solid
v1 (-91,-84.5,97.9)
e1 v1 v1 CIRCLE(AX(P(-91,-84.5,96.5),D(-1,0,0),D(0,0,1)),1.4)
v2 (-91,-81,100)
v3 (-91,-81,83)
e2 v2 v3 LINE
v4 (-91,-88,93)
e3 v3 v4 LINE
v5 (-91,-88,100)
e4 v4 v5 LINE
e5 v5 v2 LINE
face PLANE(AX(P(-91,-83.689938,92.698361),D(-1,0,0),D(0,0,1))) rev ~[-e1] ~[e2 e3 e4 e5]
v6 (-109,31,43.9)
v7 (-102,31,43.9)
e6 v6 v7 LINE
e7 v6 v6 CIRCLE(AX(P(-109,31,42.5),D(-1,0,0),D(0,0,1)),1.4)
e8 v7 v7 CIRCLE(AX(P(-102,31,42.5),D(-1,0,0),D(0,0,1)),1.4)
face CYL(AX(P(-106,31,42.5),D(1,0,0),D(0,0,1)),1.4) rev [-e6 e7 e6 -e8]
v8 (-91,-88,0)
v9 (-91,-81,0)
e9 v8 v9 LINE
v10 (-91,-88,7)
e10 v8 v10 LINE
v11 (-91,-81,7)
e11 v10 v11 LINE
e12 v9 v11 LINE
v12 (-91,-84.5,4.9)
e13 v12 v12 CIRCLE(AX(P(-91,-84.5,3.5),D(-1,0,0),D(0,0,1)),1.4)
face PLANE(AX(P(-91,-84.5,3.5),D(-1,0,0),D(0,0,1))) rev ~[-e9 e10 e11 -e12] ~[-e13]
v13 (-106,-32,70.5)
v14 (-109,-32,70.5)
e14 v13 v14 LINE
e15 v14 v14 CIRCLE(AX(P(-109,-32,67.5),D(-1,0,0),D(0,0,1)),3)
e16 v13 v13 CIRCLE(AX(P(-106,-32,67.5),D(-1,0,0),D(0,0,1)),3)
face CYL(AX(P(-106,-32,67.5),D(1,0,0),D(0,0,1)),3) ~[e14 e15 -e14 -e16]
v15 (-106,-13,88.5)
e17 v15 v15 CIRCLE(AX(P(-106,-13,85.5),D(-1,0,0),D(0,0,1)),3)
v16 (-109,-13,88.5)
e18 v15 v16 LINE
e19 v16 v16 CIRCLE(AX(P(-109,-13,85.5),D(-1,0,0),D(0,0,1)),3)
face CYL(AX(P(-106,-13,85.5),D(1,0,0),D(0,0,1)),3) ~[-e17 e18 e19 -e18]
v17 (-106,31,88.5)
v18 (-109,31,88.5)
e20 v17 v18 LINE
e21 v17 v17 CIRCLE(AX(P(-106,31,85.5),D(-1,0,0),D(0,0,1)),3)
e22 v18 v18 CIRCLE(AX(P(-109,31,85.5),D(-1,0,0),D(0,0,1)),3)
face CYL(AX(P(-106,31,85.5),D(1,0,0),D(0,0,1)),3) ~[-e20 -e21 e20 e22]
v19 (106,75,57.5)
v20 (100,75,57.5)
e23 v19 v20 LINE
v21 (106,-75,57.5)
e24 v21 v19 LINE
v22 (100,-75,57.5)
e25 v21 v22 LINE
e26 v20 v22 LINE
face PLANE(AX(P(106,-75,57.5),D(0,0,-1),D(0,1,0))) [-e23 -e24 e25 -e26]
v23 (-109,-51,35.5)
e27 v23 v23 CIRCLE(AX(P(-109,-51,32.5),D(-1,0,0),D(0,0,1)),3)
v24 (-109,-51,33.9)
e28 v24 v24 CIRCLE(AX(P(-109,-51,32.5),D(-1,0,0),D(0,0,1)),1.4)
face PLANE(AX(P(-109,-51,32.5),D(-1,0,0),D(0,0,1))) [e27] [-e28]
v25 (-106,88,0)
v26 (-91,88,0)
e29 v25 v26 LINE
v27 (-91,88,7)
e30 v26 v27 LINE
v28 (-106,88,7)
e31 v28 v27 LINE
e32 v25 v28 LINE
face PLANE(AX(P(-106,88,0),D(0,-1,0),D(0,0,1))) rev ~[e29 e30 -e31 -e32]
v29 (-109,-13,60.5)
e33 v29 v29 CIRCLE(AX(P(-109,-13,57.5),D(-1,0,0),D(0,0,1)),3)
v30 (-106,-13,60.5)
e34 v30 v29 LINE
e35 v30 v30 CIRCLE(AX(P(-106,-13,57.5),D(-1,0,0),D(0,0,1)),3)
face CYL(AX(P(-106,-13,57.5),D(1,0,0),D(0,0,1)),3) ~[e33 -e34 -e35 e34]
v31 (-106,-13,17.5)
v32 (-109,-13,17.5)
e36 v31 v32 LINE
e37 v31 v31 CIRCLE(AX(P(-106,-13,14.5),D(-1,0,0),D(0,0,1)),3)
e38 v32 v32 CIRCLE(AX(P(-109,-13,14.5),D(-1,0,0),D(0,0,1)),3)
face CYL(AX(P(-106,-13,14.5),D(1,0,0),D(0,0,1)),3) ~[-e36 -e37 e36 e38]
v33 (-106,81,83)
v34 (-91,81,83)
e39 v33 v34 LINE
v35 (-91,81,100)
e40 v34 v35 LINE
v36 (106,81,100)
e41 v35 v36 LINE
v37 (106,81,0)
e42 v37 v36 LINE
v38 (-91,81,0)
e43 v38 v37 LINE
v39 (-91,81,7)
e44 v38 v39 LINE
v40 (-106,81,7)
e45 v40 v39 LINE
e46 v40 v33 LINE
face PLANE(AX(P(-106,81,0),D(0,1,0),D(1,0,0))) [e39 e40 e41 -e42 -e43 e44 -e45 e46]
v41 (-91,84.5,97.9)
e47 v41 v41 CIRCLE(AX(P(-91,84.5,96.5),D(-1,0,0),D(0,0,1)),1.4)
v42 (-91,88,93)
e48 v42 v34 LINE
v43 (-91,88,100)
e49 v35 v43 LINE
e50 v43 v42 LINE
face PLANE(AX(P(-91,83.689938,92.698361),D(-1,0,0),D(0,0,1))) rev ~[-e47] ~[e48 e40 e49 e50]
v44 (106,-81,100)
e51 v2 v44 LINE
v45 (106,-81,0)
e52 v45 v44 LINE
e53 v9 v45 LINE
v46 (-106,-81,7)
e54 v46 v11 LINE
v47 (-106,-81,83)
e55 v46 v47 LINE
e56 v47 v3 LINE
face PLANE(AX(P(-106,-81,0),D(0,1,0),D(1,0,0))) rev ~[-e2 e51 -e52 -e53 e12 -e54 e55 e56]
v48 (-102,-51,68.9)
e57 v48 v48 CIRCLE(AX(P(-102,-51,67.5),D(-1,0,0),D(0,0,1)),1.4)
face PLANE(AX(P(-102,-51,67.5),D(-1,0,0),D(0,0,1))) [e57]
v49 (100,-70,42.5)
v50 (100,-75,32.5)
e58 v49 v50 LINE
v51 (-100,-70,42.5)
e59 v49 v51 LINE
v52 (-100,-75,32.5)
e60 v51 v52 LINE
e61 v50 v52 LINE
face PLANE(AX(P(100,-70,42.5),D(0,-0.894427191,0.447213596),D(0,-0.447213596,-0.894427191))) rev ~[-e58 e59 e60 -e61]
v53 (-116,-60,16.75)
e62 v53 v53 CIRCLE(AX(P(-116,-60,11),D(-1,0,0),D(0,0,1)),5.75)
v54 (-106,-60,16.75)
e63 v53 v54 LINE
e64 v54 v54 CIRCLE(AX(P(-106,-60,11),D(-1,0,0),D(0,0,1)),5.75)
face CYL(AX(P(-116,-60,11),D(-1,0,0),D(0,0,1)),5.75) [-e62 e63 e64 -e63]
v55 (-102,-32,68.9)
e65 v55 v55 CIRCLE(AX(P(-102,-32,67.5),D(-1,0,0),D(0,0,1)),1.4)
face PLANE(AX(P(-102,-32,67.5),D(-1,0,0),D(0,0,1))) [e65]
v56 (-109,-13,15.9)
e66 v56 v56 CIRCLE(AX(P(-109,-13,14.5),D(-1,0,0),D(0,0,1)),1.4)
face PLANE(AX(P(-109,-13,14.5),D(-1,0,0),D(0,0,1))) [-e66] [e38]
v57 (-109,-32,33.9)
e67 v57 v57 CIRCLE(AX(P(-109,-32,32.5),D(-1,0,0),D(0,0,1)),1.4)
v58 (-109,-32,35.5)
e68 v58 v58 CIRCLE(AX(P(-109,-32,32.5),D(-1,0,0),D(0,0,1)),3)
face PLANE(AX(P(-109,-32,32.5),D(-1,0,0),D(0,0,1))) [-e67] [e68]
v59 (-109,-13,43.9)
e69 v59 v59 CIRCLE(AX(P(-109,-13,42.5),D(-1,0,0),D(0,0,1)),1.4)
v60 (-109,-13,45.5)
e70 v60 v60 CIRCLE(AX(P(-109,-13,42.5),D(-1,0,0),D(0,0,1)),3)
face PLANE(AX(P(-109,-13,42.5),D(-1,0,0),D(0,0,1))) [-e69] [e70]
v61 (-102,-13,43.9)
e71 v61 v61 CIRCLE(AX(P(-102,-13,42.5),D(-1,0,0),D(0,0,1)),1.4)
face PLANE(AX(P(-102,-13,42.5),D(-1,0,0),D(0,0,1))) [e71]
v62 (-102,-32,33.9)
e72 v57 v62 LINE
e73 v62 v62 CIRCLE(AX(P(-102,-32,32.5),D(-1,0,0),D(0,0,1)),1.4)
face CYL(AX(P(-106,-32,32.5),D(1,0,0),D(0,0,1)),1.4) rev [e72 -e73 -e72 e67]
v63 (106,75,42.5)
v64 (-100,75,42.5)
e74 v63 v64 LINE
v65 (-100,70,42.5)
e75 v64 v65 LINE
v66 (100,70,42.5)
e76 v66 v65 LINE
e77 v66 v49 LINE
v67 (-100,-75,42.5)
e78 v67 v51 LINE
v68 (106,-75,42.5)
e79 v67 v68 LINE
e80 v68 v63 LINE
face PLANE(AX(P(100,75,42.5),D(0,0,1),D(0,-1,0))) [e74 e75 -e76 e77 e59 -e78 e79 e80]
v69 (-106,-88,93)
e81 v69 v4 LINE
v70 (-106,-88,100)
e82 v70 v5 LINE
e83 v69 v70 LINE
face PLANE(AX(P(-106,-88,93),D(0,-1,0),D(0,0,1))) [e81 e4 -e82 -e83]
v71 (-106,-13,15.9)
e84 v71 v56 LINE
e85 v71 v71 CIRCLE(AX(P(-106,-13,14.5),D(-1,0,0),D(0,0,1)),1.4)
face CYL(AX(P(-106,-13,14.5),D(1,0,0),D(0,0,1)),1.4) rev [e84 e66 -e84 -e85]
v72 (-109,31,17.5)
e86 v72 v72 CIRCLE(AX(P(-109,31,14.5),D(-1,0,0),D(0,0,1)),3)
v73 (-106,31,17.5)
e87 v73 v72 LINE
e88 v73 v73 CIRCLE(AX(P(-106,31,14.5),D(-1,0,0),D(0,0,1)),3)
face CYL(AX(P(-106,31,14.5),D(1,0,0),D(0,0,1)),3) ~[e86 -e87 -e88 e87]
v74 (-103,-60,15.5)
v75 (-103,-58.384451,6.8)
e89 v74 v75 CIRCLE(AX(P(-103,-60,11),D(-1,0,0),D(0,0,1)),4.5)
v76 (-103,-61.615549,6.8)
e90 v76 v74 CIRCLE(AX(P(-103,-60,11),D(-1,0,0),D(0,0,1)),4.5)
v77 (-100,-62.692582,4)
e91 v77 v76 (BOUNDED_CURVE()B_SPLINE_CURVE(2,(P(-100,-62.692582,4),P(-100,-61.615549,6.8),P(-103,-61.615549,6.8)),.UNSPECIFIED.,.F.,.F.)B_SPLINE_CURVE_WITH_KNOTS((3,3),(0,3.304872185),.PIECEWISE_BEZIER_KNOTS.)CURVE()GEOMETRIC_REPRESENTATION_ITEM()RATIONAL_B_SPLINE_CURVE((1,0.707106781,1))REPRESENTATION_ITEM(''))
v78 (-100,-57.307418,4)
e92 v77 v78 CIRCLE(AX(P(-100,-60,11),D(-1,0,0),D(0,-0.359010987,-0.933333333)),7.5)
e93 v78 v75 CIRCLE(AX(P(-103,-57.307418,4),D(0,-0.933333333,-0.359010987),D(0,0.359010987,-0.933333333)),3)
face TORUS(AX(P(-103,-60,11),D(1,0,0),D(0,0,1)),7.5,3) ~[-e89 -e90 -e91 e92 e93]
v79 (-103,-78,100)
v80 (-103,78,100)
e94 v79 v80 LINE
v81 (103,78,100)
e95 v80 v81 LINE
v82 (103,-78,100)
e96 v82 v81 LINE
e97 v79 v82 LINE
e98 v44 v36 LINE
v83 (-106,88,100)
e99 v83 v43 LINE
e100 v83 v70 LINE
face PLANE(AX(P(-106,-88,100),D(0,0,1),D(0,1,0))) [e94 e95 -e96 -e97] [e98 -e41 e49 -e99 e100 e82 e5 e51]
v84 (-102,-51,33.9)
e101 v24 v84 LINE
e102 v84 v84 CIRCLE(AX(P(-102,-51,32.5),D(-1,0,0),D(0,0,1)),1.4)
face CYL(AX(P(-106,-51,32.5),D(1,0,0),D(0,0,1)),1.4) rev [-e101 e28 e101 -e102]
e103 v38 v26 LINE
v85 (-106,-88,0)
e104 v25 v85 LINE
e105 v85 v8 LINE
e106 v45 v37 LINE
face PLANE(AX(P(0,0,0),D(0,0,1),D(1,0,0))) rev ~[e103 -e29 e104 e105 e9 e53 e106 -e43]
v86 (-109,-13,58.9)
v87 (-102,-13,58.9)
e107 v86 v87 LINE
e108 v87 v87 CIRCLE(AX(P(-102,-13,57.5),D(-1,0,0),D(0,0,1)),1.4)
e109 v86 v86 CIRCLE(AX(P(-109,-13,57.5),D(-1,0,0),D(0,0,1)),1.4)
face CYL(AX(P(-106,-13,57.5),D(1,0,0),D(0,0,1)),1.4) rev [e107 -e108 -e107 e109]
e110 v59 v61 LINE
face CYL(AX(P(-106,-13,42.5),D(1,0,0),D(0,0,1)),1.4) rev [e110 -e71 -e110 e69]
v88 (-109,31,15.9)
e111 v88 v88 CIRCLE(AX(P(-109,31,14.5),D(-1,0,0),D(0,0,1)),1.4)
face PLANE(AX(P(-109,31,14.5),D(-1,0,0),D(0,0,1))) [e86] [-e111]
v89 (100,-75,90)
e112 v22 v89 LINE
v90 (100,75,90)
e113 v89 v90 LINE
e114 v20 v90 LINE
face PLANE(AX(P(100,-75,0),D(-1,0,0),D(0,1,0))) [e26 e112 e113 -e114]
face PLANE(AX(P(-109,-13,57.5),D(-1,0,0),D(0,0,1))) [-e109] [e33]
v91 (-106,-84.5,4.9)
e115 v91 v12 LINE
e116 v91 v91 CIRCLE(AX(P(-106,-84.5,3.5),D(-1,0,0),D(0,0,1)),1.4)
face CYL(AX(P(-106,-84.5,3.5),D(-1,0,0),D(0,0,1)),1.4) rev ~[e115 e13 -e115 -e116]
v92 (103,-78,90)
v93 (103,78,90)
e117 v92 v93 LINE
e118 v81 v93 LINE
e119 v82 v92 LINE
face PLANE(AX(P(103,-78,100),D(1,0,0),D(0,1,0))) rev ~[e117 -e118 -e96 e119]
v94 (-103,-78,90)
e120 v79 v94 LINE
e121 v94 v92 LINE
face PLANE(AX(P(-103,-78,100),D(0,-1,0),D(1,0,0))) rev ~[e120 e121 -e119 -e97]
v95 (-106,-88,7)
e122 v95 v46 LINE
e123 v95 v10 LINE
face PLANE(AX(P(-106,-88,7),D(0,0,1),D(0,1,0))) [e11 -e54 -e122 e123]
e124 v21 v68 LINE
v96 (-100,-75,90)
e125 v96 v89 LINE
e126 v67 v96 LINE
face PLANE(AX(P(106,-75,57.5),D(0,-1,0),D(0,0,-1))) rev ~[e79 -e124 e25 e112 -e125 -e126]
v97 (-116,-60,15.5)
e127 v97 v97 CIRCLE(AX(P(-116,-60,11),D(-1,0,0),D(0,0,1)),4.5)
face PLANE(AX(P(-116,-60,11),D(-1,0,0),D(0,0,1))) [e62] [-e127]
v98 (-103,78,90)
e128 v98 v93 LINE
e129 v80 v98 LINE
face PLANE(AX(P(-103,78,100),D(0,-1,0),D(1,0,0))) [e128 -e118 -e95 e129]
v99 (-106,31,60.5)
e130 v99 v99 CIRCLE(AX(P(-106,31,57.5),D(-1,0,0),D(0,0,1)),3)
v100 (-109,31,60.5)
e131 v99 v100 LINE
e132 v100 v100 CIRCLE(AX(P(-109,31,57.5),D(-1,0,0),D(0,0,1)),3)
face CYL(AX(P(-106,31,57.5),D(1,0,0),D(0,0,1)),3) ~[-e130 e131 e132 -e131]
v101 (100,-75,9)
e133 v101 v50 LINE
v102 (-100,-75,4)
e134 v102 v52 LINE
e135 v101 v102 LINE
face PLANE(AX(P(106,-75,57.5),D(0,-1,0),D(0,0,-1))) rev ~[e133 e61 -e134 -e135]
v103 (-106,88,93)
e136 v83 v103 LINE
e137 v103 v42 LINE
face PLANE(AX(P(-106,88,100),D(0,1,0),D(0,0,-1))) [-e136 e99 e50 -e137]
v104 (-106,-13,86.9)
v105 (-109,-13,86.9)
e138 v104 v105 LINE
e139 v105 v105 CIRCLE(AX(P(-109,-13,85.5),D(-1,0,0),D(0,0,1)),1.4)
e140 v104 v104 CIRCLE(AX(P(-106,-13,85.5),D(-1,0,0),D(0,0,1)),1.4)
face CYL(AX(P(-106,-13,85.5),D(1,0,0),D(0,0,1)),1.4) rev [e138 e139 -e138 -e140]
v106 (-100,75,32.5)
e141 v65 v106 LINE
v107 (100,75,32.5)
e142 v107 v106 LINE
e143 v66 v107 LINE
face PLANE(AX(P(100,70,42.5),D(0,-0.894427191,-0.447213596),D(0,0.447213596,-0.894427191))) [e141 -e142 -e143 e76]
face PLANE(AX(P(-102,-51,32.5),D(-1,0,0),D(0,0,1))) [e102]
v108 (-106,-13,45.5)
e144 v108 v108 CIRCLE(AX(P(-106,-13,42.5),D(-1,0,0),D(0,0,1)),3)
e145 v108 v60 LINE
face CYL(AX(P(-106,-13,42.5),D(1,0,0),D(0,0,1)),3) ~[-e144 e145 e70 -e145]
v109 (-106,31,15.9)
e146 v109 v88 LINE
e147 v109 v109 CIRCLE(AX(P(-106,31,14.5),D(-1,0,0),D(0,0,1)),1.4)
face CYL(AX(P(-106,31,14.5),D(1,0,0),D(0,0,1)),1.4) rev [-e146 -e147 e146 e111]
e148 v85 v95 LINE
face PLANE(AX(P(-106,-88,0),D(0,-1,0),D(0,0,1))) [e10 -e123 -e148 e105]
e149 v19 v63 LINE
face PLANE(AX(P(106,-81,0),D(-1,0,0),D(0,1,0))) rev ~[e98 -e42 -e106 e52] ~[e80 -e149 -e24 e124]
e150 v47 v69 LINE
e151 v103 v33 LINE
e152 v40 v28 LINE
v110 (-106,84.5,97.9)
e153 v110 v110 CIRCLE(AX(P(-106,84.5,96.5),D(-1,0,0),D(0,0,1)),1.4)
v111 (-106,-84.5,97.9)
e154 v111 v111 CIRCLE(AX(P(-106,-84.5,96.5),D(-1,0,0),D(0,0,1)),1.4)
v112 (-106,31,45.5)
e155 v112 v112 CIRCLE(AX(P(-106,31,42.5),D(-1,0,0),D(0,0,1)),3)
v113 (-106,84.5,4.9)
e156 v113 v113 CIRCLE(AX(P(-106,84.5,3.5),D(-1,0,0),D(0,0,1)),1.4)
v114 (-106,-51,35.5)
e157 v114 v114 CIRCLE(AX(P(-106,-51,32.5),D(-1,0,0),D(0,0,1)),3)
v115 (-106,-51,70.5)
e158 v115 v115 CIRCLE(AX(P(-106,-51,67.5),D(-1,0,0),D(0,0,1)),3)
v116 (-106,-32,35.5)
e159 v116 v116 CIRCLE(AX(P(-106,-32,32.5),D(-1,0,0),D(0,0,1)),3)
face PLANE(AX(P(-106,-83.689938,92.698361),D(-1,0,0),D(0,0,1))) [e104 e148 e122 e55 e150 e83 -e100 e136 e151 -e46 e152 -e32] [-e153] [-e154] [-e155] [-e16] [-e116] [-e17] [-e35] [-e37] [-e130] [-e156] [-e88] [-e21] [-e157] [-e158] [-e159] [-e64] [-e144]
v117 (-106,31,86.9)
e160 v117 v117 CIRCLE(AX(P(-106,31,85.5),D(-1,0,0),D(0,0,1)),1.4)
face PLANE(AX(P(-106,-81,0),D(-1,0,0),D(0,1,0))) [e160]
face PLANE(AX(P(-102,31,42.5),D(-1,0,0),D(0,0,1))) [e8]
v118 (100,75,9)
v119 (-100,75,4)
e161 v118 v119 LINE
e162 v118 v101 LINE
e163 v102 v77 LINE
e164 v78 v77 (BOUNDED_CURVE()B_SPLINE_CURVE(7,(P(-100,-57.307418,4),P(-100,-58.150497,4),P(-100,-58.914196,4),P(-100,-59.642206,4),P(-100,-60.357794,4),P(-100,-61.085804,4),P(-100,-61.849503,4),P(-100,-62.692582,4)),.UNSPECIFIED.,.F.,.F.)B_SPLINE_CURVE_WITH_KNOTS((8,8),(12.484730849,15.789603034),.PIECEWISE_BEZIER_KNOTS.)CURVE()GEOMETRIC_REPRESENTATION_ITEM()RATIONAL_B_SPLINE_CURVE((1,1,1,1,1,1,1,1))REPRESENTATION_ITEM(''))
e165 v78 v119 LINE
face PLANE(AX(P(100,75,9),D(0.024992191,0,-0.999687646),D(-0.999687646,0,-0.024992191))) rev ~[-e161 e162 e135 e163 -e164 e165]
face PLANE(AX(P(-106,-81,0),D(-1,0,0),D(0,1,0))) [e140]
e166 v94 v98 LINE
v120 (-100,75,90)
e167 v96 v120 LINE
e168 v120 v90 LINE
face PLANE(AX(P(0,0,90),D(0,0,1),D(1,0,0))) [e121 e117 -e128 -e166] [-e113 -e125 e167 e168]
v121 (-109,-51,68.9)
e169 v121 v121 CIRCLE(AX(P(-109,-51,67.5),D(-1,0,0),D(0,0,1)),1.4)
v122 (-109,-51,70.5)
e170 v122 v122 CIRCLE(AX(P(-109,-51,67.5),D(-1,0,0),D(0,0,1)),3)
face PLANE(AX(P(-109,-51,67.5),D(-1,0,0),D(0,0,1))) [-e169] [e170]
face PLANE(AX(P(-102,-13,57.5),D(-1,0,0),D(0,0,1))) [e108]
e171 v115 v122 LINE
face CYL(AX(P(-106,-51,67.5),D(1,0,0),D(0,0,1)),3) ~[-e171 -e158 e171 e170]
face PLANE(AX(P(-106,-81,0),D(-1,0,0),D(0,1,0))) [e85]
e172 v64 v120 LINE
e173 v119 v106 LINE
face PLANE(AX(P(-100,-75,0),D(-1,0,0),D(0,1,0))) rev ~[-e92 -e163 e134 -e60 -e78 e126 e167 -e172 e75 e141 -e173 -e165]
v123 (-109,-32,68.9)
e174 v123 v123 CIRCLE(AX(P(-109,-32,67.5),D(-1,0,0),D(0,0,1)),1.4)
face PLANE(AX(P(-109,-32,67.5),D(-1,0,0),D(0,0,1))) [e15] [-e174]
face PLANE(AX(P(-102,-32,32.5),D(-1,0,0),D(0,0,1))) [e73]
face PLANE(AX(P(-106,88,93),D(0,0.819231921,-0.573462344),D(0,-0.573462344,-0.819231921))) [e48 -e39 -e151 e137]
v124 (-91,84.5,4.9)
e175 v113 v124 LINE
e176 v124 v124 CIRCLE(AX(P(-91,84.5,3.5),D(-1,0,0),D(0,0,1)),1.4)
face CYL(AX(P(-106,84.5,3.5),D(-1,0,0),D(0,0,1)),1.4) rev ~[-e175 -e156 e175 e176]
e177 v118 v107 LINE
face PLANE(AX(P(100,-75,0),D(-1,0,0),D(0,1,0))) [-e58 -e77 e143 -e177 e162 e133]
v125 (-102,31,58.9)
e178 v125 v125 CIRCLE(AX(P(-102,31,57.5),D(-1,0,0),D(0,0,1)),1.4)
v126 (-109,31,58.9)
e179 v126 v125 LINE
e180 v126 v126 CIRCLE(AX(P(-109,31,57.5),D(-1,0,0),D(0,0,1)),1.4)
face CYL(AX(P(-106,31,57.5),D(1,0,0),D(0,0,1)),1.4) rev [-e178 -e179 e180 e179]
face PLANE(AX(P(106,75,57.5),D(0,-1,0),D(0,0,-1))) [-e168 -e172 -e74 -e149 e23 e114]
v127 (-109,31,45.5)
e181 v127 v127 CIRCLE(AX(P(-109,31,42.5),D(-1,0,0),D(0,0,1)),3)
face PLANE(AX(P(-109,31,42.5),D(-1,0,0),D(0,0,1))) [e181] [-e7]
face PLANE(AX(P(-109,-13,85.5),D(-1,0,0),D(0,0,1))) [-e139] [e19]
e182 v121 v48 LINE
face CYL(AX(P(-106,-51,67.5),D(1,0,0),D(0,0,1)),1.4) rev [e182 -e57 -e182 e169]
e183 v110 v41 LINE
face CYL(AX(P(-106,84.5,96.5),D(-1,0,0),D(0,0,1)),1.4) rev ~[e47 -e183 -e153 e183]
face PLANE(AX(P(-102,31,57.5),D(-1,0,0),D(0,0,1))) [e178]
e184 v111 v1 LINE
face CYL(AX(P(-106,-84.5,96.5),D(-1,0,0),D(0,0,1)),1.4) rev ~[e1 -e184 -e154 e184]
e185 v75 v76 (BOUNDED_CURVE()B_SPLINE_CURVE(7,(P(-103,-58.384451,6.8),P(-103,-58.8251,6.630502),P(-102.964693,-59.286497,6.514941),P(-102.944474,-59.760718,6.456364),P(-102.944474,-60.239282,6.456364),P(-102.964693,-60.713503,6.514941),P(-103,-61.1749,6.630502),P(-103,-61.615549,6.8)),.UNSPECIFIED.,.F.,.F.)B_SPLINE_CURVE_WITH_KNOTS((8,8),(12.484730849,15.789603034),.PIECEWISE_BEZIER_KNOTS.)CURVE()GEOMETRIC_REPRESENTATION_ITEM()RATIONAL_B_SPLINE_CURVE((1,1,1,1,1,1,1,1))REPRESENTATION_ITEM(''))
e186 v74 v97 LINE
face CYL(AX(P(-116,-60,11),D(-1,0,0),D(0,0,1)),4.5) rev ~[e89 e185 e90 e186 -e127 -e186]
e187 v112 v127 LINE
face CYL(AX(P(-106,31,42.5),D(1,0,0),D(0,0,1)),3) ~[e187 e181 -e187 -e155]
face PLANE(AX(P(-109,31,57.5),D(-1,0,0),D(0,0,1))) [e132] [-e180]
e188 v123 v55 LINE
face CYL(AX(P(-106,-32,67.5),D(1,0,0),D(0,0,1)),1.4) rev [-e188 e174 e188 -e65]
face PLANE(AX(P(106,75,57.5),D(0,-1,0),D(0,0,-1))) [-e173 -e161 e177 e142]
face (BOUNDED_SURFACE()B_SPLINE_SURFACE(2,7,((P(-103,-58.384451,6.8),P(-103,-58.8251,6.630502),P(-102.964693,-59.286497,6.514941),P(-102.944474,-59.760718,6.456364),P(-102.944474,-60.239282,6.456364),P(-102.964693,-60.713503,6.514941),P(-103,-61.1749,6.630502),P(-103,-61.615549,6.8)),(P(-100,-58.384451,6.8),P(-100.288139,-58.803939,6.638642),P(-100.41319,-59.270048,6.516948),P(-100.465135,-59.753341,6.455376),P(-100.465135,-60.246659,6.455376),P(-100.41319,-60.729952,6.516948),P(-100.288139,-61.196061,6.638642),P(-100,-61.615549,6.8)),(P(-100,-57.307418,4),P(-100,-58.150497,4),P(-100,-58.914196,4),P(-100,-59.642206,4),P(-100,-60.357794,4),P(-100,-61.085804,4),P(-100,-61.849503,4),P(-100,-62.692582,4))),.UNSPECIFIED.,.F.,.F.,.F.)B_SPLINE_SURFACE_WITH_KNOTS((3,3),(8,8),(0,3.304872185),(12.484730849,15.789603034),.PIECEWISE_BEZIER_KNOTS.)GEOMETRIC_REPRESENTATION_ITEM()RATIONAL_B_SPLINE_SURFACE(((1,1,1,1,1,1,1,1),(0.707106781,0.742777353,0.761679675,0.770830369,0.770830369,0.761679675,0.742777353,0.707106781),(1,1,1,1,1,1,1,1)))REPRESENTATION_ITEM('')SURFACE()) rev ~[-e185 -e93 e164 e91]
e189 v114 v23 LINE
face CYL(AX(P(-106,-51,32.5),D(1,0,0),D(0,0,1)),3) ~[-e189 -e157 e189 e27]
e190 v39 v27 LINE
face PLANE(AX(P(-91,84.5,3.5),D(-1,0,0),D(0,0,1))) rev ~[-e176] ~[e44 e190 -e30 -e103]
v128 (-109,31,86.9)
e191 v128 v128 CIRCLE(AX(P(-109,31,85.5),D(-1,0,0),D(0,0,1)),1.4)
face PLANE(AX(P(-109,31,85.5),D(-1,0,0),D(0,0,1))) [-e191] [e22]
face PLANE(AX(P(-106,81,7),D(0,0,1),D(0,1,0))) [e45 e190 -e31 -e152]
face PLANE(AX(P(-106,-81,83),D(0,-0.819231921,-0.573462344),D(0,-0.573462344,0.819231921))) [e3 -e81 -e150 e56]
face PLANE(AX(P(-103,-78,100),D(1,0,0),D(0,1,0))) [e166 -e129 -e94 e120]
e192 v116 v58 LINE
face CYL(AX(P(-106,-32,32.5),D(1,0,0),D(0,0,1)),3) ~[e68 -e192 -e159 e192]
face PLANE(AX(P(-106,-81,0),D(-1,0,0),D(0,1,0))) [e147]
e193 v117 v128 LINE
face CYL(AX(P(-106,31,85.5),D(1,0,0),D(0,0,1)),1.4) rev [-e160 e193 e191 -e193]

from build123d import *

# Parameters (mm, degrees)
SKETCH1_W           = 212
SKETCH1_H           = 162
SKETCH1_W_2         = 200
SKETCH1_H_2         = 150
BOSS_EXTRUDE1_DEPTH = 100
SKETCH1_4_W         = 200
SKETCH1_4_H         = 150
BOSS_EXTRUDE2_DEPTH = 4
SKETCH2_W           = 206
SKETCH2_H           = 156
SKETCH2_W_2         = 200
SKETCH2_H_2         = 150
CUT_EXTRUDE1_DEPTH  = 10
SKETCH3_W           = 15
SKETCH3_H           = 150
CUT_EXTRUDE2_DEPTH  = 200
BOSS_EXTRUDE3_DEPTH = 200
BOSS_EXTRUDE4_DEPTH = 150
SKETCH6_R           = 3
SKETCH6_R_2         = 1.4
BOSS_EXTRUDE5_DEPTH = 3
CUT_EXTRUDE3_START  = -4
SKETCH6_3_R         = 1.4
CUT_EXTRUDE3_DEPTH  = 4
SKETCH6_5_R         = 4.5
CUT_EXTRUDE4_DEPTH  = 6
BOSS_EXTRUDE6_START = 10
SKETCH6_6_R         = 5.75
SKETCH6_6_R_2       = 4.5
BOSS_EXTRUDE6_DEPTH = 10
FILLET1_R           = 3
SKETCH6_8_R         = 1.4
SKETCH6_8_W         = 7
SKETCH6_8_H         = 7
BOSS_EXTRUDE7_DEPTH = 15


with BuildPart() as part:
    # Sketch1 → Boss-Extrude1 (new body)
    with BuildSketch(Plane.XY):
        Rectangle(SKETCH1_W, SKETCH1_H)
        Rectangle(SKETCH1_W_2, SKETCH1_H_2, mode=Mode.SUBTRACT)
    extrude(amount=BOSS_EXTRUDE1_DEPTH)

    # Sketch1<4> → Boss-Extrude2 (add)
    with BuildSketch(Plane.XY):
        Rectangle(SKETCH1_4_W, SKETCH1_4_H)
    extrude(amount=BOSS_EXTRUDE2_DEPTH)

    # Sketch2 → Cut-Extrude1 (cut)
    with BuildSketch(Plane.XY.offset(100)):
        Rectangle(SKETCH2_W, SKETCH2_H)
        Rectangle(SKETCH2_W_2, SKETCH2_H_2, mode=Mode.SUBTRACT)
    extrude(amount=-CUT_EXTRUDE1_DEPTH, mode=Mode.SUBTRACT)

    # Sketch3 → Cut-Extrude2 (cut)
    with BuildSketch(Plane(origin=(106, 0, 0), x_dir=(0, 0, -1), z_dir=(1, 0, 0))):
        with Locations((-50, 0)):
            Rectangle(SKETCH3_W, SKETCH3_H)
    extrude(amount=-CUT_EXTRUDE2_DEPTH, mode=Mode.SUBTRACT)

    # Sketch4 → Boss-Extrude3 (add)
    with BuildSketch(Plane.ZY.offset(-100)):
        Polygon((42.5, 75), (42.5, 70), (32.5, 75), align=None)
        Polygon((32.5, -75), (42.5, -75), (42.5, -70), align=None)
    extrude(amount=BOSS_EXTRUDE3_DEPTH)

    # Sketch5 → Boss-Extrude4 (add)
    with BuildSketch(Plane.XZ.offset(-75)):
        Polygon((100, 9), (-100, 4), (100, 4), align=None)
    extrude(amount=BOSS_EXTRUDE4_DEPTH)

    # Sketch6 → Boss-Extrude5 (add)
    # profile 1 of 12: a face of its own
    with BuildSketch(Plane.ZY.offset(106)):
        with Locations((67.5, -32)):
            Circle(SKETCH6_R)
        with Locations((67.5, -32)):
            Circle(SKETCH6_R_2, mode=Mode.SUBTRACT)
    # profile 2 of 12: a face of its own
    with BuildSketch(Plane.ZY.offset(106)):
        with Locations((67.5, -51)):
            Circle(SKETCH6_R)
        with Locations((67.5, -51)):
            Circle(SKETCH6_R_2, mode=Mode.SUBTRACT)
    # profile 3 of 12: a face of its own
    with BuildSketch(Plane.ZY.offset(106)):
        with Locations((32.5, -51)):
            Circle(SKETCH6_R)
        with Locations((32.5, -51)):
            Circle(SKETCH6_R_2, mode=Mode.SUBTRACT)
    # profile 4 of 12: a face of its own
    with BuildSketch(Plane.ZY.offset(106)):
        with Locations((32.5, -32)):
            Circle(SKETCH6_R)
        with Locations((32.5, -32)):
            Circle(SKETCH6_R_2, mode=Mode.SUBTRACT)
    # profile 5 of 12: a face of its own
    with BuildSketch(Plane.ZY.offset(106)):
        with Locations((42.5, 31)):
            Circle(SKETCH6_R)
        with Locations((42.5, 31)):
            Circle(SKETCH6_R_2, mode=Mode.SUBTRACT)
    # profile 6 of 12: a face of its own
    with BuildSketch(Plane.ZY.offset(106)):
        with Locations((42.5, -13)):
            Circle(SKETCH6_R)
        with Locations((42.5, -13)):
            Circle(SKETCH6_R_2, mode=Mode.SUBTRACT)
    # profile 7 of 12: a face of its own
    with BuildSketch(Plane.ZY.offset(106)):
        with Locations((57.5, -13)):
            Circle(SKETCH6_R)
        with Locations((57.5, -13)):
            Circle(SKETCH6_R_2, mode=Mode.SUBTRACT)
    # profile 8 of 12: a face of its own
    with BuildSketch(Plane.ZY.offset(106)):
        with Locations((57.5, 31)):
            Circle(SKETCH6_R)
        with Locations((57.5, 31)):
            Circle(SKETCH6_R_2, mode=Mode.SUBTRACT)
    # profile 9 of 12: a face of its own
    with BuildSketch(Plane.ZY.offset(106)):
        with Locations((14.5, 31)):
            Circle(SKETCH6_R)
        with Locations((14.5, 31)):
            Circle(SKETCH6_R_2, mode=Mode.SUBTRACT)
    # profile 10 of 12: a face of its own
    with BuildSketch(Plane.ZY.offset(106)):
        with Locations((14.5, -13)):
            Circle(SKETCH6_R)
        with Locations((14.5, -13)):
            Circle(SKETCH6_R_2, mode=Mode.SUBTRACT)
    # profile 11 of 12: a face of its own
    with BuildSketch(Plane.ZY.offset(106)):
        with Locations((85.5, -13)):
            Circle(SKETCH6_R)
        with Locations((85.5, -13)):
            Circle(SKETCH6_R_2, mode=Mode.SUBTRACT)
    # profile 12 of 12: a face of its own
    with BuildSketch(Plane.ZY.offset(106)):
        with Locations((85.5, 31)):
            Circle(SKETCH6_R)
        with Locations((85.5, 31)):
            Circle(SKETCH6_R_2, mode=Mode.SUBTRACT)
    extrude(amount=BOSS_EXTRUDE5_DEPTH)

    # Sketch6<3> → Cut-Extrude3 (cut)
    with BuildSketch(Plane.ZY.offset(106).offset(CUT_EXTRUDE3_START)):
        with Locations((67.5, -51)):
            Circle(SKETCH6_3_R)
        with Locations((67.5, -32)):
            Circle(SKETCH6_3_R)
        with Locations((32.5, -32)):
            Circle(SKETCH6_3_R)
        with Locations((32.5, -51)):
            Circle(SKETCH6_3_R)
        with Locations((42.5, 31)):
            Circle(SKETCH6_3_R)
        with Locations((42.5, -13)):
            Circle(SKETCH6_3_R)
        with Locations((57.5, -13)):
            Circle(SKETCH6_3_R)
        with Locations((57.5, 31)):
            Circle(SKETCH6_3_R)
    extrude(amount=CUT_EXTRUDE3_DEPTH, mode=Mode.SUBTRACT)

    # Sketch6<5> → Cut-Extrude4 (cut)
    with BuildSketch(Plane.ZY.offset(106)):
        with Locations((11, -60)):
            Circle(SKETCH6_5_R)
    extrude(amount=-CUT_EXTRUDE4_DEPTH, mode=Mode.SUBTRACT)

    # Sketch6<6> → Boss-Extrude6 (add)
    with BuildSketch(Plane.ZY.offset(106).offset(BOSS_EXTRUDE6_START)):
        with Locations((11, -60)):
            Circle(SKETCH6_6_R)
        with Locations((11, -60)):
            Circle(SKETCH6_6_R_2, mode=Mode.SUBTRACT)
    extrude(amount=-BOSS_EXTRUDE6_DEPTH)

    # Fillet1
    fillet1_edges = [part.edges().sort_by_distance(p)[0] for p in [
        (-100, -60, 6.5),
    ]]
    fillet(fillet1_edges, radius=FILLET1_R)

    # Sketch6<8> → Boss-Extrude7 (add)
    # profile 1 of 4: a face of its own
    with BuildSketch(Plane.ZY.offset(106)):
        Polygon((100, -81), (83, -81), (93, -88), (100, -88), align=None)
        with Locations((96.5, -84.5)):
            Circle(SKETCH6_8_R, mode=Mode.SUBTRACT)
    # profile 2 of 4: a face of its own
    with BuildSketch(Plane.ZY.offset(106)):
        with Locations((3.5, -84.5)):
            Rectangle(SKETCH6_8_W, SKETCH6_8_H)
        with Locations((3.5, -84.5)):
            Circle(SKETCH6_8_R, mode=Mode.SUBTRACT)
    # profile 3 of 4: a face of its own
    with BuildSketch(Plane.ZY.offset(106)):
        Polygon((93, 88), (83, 81), (100, 81), (100, 88), align=None)
        with Locations((96.5, 84.5)):
            Circle(SKETCH6_8_R, mode=Mode.SUBTRACT)
    # profile 4 of 4: a face of its own
    with BuildSketch(Plane.ZY.offset(106)):
        with Locations((3.5, 84.5)):
            Rectangle(SKETCH6_8_W, SKETCH6_8_H)
        with Locations((3.5, 84.5)):
            Circle(SKETCH6_8_R, mode=Mode.SUBTRACT)
    extrude(amount=-BOSS_EXTRUDE7_DEPTH)


solid = part.part
